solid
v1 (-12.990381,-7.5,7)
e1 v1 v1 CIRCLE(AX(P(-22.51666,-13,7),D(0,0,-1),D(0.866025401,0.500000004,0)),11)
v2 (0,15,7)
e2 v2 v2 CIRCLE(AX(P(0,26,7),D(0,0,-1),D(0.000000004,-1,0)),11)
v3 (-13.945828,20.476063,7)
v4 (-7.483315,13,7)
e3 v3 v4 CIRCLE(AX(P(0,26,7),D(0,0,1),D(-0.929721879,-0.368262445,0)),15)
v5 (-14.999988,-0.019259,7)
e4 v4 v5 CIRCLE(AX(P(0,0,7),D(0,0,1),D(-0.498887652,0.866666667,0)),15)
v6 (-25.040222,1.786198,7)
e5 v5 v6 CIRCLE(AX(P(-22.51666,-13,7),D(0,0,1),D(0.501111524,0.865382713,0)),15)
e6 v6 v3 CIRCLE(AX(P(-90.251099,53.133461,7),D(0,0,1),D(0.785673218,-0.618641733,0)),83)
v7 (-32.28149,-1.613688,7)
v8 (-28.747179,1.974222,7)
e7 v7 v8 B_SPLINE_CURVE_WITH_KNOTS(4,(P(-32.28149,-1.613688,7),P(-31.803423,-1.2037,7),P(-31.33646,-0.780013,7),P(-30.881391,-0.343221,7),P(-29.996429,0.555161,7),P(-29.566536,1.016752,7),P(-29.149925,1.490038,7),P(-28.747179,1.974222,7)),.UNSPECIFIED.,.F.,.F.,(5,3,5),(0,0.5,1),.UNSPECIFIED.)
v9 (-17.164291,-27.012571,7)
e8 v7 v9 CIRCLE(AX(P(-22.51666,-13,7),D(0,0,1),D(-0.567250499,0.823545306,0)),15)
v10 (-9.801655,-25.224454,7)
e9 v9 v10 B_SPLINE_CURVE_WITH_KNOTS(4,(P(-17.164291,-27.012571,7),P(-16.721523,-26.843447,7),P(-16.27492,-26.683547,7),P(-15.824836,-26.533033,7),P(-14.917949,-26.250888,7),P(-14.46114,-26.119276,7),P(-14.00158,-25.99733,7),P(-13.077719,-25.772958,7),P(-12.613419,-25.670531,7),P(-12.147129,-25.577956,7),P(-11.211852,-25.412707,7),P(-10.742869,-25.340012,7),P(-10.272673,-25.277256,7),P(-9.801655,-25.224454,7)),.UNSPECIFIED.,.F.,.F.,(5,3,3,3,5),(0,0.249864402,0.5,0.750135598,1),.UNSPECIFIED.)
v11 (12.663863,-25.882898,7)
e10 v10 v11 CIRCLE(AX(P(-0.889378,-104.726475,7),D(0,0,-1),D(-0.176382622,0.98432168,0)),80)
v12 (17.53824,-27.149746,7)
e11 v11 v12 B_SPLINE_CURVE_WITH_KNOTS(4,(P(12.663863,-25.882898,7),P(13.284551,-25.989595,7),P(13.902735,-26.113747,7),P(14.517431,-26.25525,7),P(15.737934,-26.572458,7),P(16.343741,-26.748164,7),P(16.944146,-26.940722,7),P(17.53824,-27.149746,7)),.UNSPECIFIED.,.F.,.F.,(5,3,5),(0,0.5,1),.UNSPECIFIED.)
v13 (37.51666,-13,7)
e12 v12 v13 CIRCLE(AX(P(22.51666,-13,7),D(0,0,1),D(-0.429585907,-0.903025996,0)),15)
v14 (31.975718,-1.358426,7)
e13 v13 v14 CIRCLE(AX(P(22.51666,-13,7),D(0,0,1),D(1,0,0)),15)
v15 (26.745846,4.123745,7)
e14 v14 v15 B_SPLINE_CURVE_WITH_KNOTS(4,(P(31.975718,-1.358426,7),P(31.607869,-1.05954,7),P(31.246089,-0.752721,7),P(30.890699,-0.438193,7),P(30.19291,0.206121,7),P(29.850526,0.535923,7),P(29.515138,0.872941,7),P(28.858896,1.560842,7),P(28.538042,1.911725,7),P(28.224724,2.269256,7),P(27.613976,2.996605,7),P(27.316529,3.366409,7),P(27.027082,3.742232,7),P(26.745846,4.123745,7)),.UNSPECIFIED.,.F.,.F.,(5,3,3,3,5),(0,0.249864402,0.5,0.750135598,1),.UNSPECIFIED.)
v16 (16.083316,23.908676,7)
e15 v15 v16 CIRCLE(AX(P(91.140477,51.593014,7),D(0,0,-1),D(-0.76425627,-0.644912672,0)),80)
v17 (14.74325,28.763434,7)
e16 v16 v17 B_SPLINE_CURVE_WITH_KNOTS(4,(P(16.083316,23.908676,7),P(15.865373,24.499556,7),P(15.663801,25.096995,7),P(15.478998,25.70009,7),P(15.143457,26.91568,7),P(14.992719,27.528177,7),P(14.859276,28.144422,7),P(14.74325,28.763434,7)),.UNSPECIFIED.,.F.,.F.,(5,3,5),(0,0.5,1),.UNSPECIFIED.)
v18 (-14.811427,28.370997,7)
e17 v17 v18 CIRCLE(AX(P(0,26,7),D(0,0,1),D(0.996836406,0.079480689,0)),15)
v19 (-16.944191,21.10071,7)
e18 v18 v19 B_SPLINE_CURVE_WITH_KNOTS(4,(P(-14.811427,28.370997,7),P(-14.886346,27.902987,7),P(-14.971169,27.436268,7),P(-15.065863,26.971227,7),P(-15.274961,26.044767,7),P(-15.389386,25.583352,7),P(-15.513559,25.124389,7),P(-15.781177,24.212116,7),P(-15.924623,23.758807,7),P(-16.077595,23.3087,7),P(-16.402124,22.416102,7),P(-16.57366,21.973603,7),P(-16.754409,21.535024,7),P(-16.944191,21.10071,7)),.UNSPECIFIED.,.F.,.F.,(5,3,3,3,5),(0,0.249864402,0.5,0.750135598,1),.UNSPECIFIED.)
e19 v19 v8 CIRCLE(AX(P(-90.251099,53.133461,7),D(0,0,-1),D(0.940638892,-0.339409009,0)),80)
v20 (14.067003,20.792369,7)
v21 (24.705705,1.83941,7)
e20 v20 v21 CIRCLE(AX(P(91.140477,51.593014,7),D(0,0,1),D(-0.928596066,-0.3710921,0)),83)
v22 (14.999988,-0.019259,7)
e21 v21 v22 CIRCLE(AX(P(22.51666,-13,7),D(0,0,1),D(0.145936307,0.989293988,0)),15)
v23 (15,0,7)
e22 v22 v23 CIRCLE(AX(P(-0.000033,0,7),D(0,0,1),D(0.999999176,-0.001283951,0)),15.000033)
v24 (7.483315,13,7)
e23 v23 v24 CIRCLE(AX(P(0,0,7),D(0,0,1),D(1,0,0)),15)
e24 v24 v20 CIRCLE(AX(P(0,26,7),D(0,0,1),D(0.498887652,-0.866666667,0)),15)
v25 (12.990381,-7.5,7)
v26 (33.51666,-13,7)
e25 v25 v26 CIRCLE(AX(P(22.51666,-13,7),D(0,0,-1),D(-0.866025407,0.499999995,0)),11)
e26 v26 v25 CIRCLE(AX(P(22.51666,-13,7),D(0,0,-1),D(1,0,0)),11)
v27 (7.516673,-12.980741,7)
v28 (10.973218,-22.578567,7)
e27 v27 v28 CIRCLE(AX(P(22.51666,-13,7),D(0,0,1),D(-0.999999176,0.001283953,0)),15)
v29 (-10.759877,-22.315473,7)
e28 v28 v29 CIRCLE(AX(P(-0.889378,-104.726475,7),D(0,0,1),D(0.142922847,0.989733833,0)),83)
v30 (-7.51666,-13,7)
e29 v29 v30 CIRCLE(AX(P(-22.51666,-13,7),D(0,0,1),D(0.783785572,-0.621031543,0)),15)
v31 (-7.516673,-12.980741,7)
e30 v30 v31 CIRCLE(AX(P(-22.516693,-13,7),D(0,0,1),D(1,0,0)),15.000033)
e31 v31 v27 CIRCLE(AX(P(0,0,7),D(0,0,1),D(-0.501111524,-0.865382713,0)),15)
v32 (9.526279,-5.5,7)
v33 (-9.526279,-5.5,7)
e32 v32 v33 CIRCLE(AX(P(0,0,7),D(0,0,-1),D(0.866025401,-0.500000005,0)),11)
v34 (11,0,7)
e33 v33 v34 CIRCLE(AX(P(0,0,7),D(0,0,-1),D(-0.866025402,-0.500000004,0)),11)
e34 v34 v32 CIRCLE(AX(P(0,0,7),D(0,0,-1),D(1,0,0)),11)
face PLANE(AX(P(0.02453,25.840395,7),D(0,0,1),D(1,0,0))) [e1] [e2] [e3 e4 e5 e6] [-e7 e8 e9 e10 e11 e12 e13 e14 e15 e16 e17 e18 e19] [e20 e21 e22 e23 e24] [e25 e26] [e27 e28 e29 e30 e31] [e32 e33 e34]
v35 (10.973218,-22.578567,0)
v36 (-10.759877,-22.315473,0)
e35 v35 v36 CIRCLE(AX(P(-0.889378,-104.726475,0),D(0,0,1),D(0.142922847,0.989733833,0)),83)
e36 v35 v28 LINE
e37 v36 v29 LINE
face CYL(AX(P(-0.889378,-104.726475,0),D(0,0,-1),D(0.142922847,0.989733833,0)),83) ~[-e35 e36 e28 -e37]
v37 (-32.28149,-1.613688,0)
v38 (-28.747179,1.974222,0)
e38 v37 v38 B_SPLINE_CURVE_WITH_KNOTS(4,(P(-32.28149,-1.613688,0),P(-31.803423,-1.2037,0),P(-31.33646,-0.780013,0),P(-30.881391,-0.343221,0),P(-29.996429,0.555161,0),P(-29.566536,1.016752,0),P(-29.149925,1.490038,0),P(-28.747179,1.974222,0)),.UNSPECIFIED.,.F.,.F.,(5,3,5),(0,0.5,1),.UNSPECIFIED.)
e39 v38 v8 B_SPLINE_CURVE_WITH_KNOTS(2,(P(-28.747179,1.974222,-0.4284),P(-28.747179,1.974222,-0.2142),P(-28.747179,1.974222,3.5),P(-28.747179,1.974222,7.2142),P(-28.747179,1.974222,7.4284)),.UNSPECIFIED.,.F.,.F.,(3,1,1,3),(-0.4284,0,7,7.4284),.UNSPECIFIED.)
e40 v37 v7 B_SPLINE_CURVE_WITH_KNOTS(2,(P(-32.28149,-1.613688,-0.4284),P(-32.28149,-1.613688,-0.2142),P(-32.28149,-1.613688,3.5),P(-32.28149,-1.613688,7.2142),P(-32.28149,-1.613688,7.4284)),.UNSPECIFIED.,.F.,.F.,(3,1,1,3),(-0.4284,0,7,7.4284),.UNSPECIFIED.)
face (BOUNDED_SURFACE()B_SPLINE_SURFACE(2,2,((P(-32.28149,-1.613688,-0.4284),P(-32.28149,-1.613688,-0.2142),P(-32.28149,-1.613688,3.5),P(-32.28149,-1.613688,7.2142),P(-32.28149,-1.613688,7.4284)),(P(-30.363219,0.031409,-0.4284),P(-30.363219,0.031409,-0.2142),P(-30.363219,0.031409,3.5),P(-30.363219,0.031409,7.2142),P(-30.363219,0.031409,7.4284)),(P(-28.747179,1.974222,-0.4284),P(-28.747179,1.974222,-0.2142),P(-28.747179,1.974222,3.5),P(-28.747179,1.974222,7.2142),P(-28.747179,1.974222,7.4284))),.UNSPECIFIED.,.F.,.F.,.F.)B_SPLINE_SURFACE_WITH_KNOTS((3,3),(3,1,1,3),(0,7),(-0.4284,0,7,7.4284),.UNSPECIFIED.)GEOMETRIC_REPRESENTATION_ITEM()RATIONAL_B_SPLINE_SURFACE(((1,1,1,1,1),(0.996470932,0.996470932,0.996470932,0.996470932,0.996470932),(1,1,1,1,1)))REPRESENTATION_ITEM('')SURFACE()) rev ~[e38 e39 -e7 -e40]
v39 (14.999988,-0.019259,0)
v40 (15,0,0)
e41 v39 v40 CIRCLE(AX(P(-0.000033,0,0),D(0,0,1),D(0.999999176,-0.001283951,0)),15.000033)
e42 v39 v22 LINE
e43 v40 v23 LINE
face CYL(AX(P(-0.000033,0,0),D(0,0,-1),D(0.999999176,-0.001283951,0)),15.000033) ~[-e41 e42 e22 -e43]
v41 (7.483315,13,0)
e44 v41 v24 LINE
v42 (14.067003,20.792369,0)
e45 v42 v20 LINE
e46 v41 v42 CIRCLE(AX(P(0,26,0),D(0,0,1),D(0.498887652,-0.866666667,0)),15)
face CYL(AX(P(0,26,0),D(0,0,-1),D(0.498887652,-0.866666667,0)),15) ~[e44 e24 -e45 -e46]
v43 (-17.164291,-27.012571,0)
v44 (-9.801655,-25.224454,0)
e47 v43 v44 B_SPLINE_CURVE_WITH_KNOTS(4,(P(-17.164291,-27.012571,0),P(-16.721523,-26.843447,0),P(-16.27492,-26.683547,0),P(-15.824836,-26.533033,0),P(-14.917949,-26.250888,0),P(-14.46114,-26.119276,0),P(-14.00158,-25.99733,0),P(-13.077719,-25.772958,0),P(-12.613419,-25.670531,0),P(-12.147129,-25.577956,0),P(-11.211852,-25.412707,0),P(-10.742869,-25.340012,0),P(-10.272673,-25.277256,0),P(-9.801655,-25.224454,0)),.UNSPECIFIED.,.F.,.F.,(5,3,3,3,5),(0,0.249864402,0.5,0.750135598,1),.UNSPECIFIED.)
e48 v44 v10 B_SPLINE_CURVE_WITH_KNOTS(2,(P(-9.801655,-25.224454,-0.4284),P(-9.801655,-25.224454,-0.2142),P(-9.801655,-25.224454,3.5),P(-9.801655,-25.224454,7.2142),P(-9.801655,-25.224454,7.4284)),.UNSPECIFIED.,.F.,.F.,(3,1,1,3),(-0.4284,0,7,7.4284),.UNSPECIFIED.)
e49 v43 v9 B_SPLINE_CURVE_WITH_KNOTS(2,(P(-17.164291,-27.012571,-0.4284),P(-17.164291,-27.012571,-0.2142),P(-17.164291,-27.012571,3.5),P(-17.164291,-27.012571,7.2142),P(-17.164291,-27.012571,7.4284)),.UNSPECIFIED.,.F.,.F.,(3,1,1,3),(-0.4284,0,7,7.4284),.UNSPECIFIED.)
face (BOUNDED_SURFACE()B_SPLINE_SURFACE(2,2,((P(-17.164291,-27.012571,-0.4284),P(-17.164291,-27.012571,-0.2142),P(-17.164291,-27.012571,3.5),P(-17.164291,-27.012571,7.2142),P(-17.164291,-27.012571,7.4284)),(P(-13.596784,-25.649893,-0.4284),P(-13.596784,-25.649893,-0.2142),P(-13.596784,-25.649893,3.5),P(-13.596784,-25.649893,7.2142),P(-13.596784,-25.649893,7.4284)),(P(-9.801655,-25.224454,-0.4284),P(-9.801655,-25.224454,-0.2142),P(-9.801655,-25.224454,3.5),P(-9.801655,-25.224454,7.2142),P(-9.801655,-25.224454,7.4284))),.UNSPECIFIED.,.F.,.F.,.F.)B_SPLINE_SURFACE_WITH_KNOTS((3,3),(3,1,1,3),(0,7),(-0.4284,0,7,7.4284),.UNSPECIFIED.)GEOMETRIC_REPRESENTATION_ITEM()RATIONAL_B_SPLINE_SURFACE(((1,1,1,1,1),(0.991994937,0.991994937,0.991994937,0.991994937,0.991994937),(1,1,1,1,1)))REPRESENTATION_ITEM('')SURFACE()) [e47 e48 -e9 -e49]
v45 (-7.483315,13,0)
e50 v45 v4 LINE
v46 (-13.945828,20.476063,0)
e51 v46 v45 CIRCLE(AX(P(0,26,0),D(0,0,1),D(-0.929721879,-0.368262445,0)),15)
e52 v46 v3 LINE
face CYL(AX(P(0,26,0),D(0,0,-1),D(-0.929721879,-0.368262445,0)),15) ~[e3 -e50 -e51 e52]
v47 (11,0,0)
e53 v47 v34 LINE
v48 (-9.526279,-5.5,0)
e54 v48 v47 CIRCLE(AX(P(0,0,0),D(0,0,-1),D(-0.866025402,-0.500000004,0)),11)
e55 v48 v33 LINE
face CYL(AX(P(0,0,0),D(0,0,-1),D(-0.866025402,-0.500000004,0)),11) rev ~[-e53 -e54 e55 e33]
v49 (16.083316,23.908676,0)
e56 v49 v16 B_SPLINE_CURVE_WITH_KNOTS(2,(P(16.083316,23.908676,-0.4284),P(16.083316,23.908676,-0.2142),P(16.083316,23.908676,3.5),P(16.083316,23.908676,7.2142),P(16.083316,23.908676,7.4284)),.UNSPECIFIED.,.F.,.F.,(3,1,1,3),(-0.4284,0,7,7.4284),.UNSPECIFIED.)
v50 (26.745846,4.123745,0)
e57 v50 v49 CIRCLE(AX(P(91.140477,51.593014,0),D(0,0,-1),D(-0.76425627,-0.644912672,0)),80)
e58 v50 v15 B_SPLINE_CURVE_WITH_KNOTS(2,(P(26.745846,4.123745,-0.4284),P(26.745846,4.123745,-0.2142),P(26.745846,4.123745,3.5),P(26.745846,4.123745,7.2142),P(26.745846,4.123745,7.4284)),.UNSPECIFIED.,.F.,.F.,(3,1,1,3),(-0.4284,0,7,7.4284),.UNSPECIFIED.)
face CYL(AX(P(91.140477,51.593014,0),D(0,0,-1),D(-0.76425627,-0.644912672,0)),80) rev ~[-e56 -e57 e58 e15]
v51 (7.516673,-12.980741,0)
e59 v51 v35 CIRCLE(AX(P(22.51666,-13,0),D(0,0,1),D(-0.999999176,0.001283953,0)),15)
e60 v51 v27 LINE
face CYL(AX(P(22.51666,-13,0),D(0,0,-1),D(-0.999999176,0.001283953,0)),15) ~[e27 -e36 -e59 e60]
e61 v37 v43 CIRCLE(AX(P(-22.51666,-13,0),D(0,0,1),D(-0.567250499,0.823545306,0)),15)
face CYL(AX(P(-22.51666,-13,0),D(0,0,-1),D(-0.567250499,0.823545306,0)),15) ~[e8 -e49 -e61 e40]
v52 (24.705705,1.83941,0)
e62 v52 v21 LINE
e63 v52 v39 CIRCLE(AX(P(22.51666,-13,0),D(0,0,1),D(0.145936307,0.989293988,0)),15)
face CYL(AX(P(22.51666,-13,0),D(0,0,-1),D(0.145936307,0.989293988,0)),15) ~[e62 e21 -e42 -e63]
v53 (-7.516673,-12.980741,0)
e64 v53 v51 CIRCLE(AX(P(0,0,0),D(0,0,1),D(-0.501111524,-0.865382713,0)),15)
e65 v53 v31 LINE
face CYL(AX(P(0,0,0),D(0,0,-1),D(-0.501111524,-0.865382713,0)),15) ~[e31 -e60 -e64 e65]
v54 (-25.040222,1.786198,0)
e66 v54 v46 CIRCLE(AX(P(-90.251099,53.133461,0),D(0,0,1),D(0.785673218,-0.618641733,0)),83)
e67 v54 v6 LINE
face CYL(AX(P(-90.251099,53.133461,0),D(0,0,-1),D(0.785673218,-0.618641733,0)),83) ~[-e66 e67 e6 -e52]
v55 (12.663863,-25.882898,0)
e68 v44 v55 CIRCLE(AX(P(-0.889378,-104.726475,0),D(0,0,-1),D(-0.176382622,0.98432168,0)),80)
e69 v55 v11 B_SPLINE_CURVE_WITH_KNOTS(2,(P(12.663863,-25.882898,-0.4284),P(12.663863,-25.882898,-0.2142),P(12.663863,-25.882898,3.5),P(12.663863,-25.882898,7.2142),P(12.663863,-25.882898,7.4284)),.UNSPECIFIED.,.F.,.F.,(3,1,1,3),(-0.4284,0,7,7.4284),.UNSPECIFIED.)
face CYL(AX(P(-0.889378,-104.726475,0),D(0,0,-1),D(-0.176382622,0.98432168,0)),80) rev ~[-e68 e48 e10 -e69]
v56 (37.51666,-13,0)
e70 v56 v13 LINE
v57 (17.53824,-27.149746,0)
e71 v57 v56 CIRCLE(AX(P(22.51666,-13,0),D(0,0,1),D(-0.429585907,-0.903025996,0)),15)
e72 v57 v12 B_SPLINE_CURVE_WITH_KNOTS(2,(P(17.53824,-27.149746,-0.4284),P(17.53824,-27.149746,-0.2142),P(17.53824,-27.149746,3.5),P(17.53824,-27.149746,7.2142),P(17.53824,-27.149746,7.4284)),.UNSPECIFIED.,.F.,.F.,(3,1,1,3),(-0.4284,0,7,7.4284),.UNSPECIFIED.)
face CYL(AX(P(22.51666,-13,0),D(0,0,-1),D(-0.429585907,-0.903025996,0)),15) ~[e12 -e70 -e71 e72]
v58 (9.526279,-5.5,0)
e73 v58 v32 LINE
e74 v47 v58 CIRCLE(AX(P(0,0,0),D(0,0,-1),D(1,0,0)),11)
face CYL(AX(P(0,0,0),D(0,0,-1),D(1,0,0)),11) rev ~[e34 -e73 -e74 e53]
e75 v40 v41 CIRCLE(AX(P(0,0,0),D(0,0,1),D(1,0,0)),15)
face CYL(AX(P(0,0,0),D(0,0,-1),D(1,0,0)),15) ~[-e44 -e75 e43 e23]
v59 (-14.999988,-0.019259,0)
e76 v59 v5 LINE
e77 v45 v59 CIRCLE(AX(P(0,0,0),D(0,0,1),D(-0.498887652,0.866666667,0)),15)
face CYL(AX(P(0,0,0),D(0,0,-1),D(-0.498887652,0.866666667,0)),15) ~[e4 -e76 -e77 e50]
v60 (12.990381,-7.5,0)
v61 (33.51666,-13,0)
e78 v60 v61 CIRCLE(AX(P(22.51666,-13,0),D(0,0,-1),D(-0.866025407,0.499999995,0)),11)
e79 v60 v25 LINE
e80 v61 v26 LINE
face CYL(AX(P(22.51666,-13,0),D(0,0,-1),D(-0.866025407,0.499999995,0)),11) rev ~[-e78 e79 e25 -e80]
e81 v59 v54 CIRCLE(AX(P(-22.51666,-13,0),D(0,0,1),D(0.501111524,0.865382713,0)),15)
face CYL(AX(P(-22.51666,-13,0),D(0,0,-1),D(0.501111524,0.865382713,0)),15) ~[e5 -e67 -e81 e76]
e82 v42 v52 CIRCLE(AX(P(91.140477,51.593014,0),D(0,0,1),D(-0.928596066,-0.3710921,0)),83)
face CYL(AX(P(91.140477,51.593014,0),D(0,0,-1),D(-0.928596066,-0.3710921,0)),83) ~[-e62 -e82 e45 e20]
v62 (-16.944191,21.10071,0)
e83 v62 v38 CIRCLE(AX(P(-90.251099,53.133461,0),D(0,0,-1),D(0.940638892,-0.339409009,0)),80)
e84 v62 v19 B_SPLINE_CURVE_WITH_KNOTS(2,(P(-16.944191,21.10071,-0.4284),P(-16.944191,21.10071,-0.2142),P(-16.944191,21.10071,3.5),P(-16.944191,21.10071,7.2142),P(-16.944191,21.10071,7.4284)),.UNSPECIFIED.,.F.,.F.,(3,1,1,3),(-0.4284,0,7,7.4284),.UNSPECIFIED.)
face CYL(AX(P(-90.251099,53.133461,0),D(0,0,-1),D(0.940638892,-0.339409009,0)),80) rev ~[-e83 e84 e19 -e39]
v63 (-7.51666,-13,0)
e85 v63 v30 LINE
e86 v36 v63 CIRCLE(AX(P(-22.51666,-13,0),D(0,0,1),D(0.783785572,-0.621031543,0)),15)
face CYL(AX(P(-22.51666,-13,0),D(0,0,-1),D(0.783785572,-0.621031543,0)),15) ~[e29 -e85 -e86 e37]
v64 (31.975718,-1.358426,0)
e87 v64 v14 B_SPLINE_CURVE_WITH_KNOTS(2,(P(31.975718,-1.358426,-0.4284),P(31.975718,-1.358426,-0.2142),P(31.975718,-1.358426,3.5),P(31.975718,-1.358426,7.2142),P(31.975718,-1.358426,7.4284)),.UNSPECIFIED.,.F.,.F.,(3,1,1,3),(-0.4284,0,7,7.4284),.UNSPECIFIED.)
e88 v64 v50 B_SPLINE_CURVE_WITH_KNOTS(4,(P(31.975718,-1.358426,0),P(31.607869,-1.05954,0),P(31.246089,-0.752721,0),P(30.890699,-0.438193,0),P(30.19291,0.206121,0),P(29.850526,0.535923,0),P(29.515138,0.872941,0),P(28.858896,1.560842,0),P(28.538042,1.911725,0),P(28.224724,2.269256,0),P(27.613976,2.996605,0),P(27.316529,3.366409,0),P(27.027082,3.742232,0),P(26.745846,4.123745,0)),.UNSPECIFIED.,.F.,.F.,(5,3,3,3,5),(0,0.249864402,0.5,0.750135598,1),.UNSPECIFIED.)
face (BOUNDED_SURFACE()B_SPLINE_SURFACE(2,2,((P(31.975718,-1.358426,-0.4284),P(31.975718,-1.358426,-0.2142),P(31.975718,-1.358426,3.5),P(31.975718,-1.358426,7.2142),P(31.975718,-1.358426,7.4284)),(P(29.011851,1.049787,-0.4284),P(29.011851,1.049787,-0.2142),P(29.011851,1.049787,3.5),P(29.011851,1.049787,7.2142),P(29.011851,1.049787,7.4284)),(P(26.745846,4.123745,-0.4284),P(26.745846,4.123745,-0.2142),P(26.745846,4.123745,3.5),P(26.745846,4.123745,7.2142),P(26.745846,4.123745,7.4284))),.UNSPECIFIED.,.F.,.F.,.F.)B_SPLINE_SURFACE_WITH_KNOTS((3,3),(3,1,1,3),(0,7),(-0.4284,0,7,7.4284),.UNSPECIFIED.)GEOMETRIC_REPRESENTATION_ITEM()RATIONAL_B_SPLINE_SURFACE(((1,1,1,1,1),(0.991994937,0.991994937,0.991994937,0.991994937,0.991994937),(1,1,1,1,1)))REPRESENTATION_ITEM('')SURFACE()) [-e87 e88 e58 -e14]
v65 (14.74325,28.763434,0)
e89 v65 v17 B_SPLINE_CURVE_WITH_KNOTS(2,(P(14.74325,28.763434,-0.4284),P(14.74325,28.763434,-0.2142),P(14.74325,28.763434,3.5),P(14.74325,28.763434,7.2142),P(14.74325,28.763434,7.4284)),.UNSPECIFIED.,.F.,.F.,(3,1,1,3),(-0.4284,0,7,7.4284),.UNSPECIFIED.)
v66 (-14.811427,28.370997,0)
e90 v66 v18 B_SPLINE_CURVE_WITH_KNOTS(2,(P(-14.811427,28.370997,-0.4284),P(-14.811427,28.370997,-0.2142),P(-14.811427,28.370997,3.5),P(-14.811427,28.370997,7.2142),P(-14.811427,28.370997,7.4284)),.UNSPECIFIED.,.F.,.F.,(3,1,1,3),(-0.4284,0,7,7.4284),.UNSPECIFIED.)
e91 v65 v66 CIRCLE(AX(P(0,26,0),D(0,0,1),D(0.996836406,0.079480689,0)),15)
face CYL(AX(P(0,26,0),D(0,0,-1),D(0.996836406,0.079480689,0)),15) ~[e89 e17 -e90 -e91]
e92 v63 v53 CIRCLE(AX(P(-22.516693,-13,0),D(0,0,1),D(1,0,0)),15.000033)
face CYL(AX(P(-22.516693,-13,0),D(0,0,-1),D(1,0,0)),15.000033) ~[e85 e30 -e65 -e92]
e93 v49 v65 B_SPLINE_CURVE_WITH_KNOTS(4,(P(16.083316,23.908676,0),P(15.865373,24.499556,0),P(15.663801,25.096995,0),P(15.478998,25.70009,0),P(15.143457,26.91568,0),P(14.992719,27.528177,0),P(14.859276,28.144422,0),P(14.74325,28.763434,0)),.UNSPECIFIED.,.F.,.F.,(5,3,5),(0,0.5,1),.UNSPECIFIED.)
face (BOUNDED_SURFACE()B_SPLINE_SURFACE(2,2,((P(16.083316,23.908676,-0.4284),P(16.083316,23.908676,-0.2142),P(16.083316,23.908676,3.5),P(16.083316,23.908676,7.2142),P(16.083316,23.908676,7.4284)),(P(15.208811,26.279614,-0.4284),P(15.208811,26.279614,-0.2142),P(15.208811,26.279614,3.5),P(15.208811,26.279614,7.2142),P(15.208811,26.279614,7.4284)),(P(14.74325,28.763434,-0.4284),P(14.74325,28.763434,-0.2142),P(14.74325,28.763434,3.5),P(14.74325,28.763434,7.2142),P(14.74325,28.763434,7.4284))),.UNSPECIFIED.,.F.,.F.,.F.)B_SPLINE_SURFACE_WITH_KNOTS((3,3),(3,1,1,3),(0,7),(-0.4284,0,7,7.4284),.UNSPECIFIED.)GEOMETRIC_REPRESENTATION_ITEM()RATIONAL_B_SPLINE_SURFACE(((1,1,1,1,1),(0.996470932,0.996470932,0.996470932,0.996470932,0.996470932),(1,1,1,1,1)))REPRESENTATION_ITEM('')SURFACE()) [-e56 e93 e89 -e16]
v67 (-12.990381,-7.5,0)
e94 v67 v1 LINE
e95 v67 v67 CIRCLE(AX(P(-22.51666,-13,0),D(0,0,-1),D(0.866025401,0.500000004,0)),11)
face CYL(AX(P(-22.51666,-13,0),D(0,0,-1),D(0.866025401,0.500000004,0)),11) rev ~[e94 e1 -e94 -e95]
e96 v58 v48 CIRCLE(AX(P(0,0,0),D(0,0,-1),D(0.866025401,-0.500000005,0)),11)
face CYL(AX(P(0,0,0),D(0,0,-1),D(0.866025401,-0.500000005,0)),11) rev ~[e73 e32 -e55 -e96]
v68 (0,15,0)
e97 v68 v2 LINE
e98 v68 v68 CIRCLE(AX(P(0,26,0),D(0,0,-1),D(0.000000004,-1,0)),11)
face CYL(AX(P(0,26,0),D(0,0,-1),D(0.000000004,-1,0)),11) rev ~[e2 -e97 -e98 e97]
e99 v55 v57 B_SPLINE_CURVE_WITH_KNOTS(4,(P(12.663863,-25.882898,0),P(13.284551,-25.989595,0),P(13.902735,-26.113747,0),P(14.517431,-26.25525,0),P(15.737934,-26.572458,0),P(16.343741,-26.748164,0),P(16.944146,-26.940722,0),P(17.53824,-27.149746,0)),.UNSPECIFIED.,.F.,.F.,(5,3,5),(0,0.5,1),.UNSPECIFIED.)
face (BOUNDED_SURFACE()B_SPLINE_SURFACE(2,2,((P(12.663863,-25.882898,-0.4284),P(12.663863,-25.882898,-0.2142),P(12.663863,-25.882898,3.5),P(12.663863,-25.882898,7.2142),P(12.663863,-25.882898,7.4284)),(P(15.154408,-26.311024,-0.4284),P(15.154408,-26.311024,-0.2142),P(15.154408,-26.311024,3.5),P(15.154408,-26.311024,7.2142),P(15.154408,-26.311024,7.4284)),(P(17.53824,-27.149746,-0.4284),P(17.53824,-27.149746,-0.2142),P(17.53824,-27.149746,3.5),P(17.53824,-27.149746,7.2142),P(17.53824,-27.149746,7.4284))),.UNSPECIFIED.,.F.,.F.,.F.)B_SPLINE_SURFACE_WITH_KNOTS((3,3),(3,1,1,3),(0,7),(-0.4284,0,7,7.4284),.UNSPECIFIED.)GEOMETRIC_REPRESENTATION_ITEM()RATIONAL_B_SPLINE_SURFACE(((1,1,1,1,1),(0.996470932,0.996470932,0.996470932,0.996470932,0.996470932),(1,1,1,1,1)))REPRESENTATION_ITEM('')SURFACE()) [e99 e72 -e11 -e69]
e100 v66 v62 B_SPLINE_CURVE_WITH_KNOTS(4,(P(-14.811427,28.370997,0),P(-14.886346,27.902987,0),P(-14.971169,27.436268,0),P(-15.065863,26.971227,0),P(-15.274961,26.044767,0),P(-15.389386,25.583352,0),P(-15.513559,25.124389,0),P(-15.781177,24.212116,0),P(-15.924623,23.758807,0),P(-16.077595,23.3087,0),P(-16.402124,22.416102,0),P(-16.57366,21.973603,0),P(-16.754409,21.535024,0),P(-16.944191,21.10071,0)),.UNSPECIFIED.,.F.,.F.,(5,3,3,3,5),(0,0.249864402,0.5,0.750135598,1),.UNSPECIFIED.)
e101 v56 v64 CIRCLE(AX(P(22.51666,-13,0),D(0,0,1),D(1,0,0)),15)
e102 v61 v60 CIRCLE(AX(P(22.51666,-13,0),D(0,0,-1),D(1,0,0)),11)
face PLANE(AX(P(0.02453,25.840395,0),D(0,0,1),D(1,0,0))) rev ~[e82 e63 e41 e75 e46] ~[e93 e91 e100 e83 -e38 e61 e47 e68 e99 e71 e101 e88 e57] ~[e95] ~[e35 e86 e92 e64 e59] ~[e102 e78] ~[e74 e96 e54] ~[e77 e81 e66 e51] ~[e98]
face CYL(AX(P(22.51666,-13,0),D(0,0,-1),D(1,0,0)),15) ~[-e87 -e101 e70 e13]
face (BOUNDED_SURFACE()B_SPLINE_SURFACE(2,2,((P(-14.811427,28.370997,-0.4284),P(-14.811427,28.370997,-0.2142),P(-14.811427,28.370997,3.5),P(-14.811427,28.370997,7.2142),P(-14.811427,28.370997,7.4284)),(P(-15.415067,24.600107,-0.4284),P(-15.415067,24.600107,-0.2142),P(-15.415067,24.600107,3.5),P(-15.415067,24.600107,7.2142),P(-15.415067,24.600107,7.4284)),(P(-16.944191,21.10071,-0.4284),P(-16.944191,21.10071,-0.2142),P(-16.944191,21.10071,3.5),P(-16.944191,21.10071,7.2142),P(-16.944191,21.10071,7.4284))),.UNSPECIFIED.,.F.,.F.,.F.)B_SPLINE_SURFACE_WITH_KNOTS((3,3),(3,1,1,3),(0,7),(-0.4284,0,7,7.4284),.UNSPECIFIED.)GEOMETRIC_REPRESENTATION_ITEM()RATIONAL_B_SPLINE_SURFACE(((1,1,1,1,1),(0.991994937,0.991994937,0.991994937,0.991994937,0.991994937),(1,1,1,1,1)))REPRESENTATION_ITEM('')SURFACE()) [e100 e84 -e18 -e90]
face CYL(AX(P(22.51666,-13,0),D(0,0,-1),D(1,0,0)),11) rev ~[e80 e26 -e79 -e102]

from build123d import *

# Parameters (mm, degrees)
F1_DEPTH = 7
F2_R     = 30


with BuildPart() as f1:
    # F0 (on Top) → F1 (new body)
    with BuildSketch(Plane.XY):
        with BuildLine():
            ThreePointArc((-13.9458281821, 20.4760633317), (-11.3479038896, 16.1905618249), (-7.4833147735, 13))
            ThreePointArc((-7.4833147735, 13), (-3.8729833256, 14.4913767517), (4.26e-08, 15))
            ThreePointArc((4.26e-08, 15), (3.8729833668, 14.4913767407), (7.4833147735, 13))
            ThreePointArc((7.4833147735, 13), (11.4579364901, 16.3193134856), (14.0670033826, 20.7923694606))
            ThreePointArc((14.0670033826, 20.7923694606), (14.7649085798, 23.3547259819), (15, 26))
            ThreePointArc((15, 26), (14.9881318268, 26.5965771885), (14.9525460877, 27.1922103396))
            ThreePointArc((14.9525460877, 27.1922103396), (-0.6061990993, 40.9877457495), (-14.999987636, 25.9807406984))
            ThreePointArc((-14.999987636, 25.9807406984), (-14.7322921357, 23.1787292883), (-13.9458281821, 20.4760633317))
        make_face()
        with BuildLine():
            ThreePointArc((11, 26), (7.7781746081, 18.221825422), (4.26e-08, 15))
            ThreePointArc((4.26e-08, 15), (-7.7781746081, 33.778174578), (11, 26))
        make_face(mode=Mode.SUBTRACT)
        with BuildLine():
            ThreePointArc((-7.4833147735, 13), (-3.8729833208, 11.508623247), (5.26e-08, 11))
            ThreePointArc((5.26e-08, 11), (3.8729833716, 11.5086232606), (7.4833147735, 13))
            ThreePointArc((7.4833147735, 13), (3.8729833668, 14.4913767407), (4.26e-08, 15))
            ThreePointArc((4.26e-08, 15), (-3.8729833256, 14.4913767517), (-7.4833147735, 13))
        make_face()
        with BuildLine():
            ThreePointArc((5.26e-08, 11), (7.7781746116, 7.7781745745), (11, 0))
            ThreePointArc((11, 0), (10.6251840814, -2.8470095251), (9.5262794117, -5.5000000519))
            ThreePointArc((9.5262794117, -5.5000000519), (11.9032517523, -2.4002096819), (14.999987636, -0.0192593016))
            ThreePointArc((14.999987636, -0.0192593016), (14.999996909, -0.0096296528), (15, 0))
            ThreePointArc((15, 0), (12.9855635535, 7.5083379784), (7.4833147735, 13))
            ThreePointArc((7.4833147735, 13), (3.8729833716, 11.5086232606), (5.26e-08, 11))
        make_face()
        with BuildLine():
            ThreePointArc((15, 26), (14.7649085798, 23.3547259819), (14.0670033826, 20.7923694606))
            ThreePointArc((14.0670033826, 20.7923694606), (18.7632858244, 10.9661480048), (24.7057051058, 1.8394098167))
            ThreePointArc((24.7057051058, 1.8394098167), (27.439514459, 1.1691746013), (29.9999752719, 0))
            ThreePointArc((29.9999752719, 0), (21.1431293427, 12.8583865681), (14.9525460877, 27.1922103396))
            ThreePointArc((14.9525460877, 27.1922103396), (14.9881318268, 26.5965771885), (15, 26))
        make_face()
        with BuildLine():
            ThreePointArc((24.7057051058, 1.8394098167), (19.6953897867, 1.7322921357), (14.999987636, -0.0192593016))
            ThreePointArc((14.999987636, -0.0192593016), (14.4863920627, -3.8915864381), (12.9903810244, -7.5000000561))
            ThreePointArc((12.9903810244, -7.5000000561), (10.613408702, -10.5997903623), (7.5166728624, -12.9807406984))
            ThreePointArc((7.5166728624, -12.9807406984), (8.4039718058, -18.0825208181), (10.9732184665, -22.5785670147))
            ThreePointArc((10.9732184665, -22.5785670147), (13.3069353398, -24.8398041582), (16.0728718952, -26.545389933))
            ThreePointArc((16.0728718952, -26.545389933), (30.5273774124, -25.681814323), (37.5166604984, -13))
            ThreePointArc((37.5166604984, -13), (35.5022240519, -5.4916620216), (29.9999752719, 0))
            ThreePointArc((29.9999752719, 0), (27.439514459, 1.1691746013), (24.7057051058, 1.8394098167))
        make_face()
        with BuildLine():
            ThreePointArc((33.5166604984, -13), (19.6696510336, -23.6251840976), (12.9903810244, -7.5000000561))
            ThreePointArc((12.9903810244, -7.5000000561), (25.3636699632, -2.3748159024), (33.5166604984, -13))
        make_face(mode=Mode.SUBTRACT)
        with BuildLine():
            ThreePointArc((14.999987636, -0.0192593016), (11.9032517523, -2.4002096819), (9.5262794117, -5.5000000519))
            ThreePointArc((9.5262794117, -5.5000000519), (8.0302684195, -9.1084136221), (7.5166728624, -12.9807406984))
            ThreePointArc((7.5166728624, -12.9807406984), (10.613408702, -10.5997903623), (12.9903810244, -7.5000000561))
            ThreePointArc((12.9903810244, -7.5000000561), (14.4863920627, -3.8915864381), (14.999987636, -0.0192593016))
        make_face()
        with BuildLine():
            ThreePointArc((7.5166728624, -12.9807406984), (8.0302684195, -9.1084136221), (9.5262794117, -5.5000000519))
            ThreePointArc((9.5262794117, -5.5000000519), (-5.2e-09, -11), (-9.5262794169, -5.5000000429))
            ThreePointArc((-9.5262794169, -5.5000000429), (-8.0302684209, -9.1084136171), (-7.5166728624, -12.9807406984))
            ThreePointArc((-7.5166728624, -12.9807406984), (0, -15), (7.5166728624, -12.9807406984))
        make_face()
        with BuildLine():
            ThreePointArc((16.0728718952, -26.545389933), (13.3069353398, -24.8398041582), (10.9732184665, -22.5785670147))
            ThreePointArc((10.9732184665, -22.5785670147), (0.1153198416, -21.7325561849), (-10.7598769237, -22.3154731484))
            ThreePointArc((-10.7598769237, -22.3154731484), (-12.7072223233, -24.3479038896), (-14.999987636, -25.9807406984))
            ThreePointArc((-14.999987636, -25.9807406984), (0.5641247483, -24.7396804103), (16.0728718952, -26.545389933))
        make_face()
        with BuildLine():
            ThreePointArc((-7.5166604984, -13), (-7.5166635894, -12.9903703472), (-7.5166728624, -12.9807406984))
            ThreePointArc((-7.5166728624, -12.9807406984), (-10.6134087435, -10.5997903208), (-12.990381083, -7.4999999545))
            ThreePointArc((-12.990381083, -7.4999999545), (-14.4863920779, -3.8915863815), (-14.999987636, -0.0192593016))
            ThreePointArc((-14.999987636, -0.0192593016), (-19.8619082959, 1.7632073325), (-25.0402218491, 1.7861975541))
            ThreePointArc((-25.0402218491, 1.7861975541), (-28.1653690959, 0.8957580283), (-31.025417983, -0.6468204065))
            ThreePointArc((-31.025417983, -0.6468204065), (-35.1933295133, -21.0188566945), (-14.999987636, -25.9807406984))
            ThreePointArc((-14.999987636, -25.9807406984), (-12.7072223233, -24.3479038896), (-10.7598769237, -22.3154731484))
            ThreePointArc((-10.7598769237, -22.3154731484), (-8.3506491752, -17.9319492282), (-7.5166604984, -13))
        make_face()
        with BuildLine():
            ThreePointArc((-11.5166604984, -13), (-33.1418445808, -15.8470095215), (-12.990381083, -7.4999999545))
            ThreePointArc((-12.990381083, -7.4999999545), (-11.891476416, -10.1529904785), (-11.5166604984, -13))
        make_face(mode=Mode.SUBTRACT)
        with BuildLine():
            ThreePointArc((-7.5166728624, -12.9807406984), (-8.0302684209, -9.1084136171), (-9.5262794169, -5.5000000429))
            ThreePointArc((-9.5262794169, -5.5000000429), (-11.903251756, -2.4002096782), (-14.999987636, -0.0192593016))
            ThreePointArc((-14.999987636, -0.0192593016), (-14.4863920779, -3.8915863815), (-12.990381083, -7.4999999545))
            ThreePointArc((-12.990381083, -7.4999999545), (-10.6134087435, -10.5997903208), (-7.5166728624, -12.9807406984))
        make_face()
        with BuildLine():
            ThreePointArc((-9.5262794169, -5.5000000429), (-9.5262794409, 5.5000000013), (5.26e-08, 11))
            ThreePointArc((5.26e-08, 11), (-3.8729833208, 11.508623247), (-7.4833147735, 13))
            ThreePointArc((-7.4833147735, 13), (-12.9903810568, 7.5), (-14.999987636, -0.0192593016))
            ThreePointArc((-14.999987636, -0.0192593016), (-11.903251756, -2.4002096782), (-9.5262794169, -5.5000000429))
        make_face()
        with BuildLine():
            ThreePointArc((-25.0402218491, 1.7861975541), (-18.8786056661, 10.76640818), (-13.9458281821, 20.4760633317))
            ThreePointArc((-13.9458281821, 20.4760633317), (-14.7322921357, 23.1787292883), (-14.999987636, 25.9807406984))
            ThreePointArc((-14.999987636, 25.9807406984), (-21.707254091, 11.8812938422), (-31.025417983, -0.6468204065))
            ThreePointArc((-31.025417983, -0.6468204065), (-28.1653690959, 0.8957580283), (-25.0402218491, 1.7861975541))
        make_face()
    extrude(amount=F1_DEPTH)

    # F2
    f2_edges = [f1.edges().sort_by_distance(p)[0] for p in [
        (-14.999988, 25.980741, 3.5),
        (-31.025418, -0.64682, 3.5),
        (-14.999988, -25.980741, 3.5),
        (16.072872, -26.54539, 3.5),
        (14.952546, 27.19221, 3.5),
        (29.999975, 0, 3.5),
    ]]
    fillet(f2_edges, radius=F2_R)


solid = f1.part
